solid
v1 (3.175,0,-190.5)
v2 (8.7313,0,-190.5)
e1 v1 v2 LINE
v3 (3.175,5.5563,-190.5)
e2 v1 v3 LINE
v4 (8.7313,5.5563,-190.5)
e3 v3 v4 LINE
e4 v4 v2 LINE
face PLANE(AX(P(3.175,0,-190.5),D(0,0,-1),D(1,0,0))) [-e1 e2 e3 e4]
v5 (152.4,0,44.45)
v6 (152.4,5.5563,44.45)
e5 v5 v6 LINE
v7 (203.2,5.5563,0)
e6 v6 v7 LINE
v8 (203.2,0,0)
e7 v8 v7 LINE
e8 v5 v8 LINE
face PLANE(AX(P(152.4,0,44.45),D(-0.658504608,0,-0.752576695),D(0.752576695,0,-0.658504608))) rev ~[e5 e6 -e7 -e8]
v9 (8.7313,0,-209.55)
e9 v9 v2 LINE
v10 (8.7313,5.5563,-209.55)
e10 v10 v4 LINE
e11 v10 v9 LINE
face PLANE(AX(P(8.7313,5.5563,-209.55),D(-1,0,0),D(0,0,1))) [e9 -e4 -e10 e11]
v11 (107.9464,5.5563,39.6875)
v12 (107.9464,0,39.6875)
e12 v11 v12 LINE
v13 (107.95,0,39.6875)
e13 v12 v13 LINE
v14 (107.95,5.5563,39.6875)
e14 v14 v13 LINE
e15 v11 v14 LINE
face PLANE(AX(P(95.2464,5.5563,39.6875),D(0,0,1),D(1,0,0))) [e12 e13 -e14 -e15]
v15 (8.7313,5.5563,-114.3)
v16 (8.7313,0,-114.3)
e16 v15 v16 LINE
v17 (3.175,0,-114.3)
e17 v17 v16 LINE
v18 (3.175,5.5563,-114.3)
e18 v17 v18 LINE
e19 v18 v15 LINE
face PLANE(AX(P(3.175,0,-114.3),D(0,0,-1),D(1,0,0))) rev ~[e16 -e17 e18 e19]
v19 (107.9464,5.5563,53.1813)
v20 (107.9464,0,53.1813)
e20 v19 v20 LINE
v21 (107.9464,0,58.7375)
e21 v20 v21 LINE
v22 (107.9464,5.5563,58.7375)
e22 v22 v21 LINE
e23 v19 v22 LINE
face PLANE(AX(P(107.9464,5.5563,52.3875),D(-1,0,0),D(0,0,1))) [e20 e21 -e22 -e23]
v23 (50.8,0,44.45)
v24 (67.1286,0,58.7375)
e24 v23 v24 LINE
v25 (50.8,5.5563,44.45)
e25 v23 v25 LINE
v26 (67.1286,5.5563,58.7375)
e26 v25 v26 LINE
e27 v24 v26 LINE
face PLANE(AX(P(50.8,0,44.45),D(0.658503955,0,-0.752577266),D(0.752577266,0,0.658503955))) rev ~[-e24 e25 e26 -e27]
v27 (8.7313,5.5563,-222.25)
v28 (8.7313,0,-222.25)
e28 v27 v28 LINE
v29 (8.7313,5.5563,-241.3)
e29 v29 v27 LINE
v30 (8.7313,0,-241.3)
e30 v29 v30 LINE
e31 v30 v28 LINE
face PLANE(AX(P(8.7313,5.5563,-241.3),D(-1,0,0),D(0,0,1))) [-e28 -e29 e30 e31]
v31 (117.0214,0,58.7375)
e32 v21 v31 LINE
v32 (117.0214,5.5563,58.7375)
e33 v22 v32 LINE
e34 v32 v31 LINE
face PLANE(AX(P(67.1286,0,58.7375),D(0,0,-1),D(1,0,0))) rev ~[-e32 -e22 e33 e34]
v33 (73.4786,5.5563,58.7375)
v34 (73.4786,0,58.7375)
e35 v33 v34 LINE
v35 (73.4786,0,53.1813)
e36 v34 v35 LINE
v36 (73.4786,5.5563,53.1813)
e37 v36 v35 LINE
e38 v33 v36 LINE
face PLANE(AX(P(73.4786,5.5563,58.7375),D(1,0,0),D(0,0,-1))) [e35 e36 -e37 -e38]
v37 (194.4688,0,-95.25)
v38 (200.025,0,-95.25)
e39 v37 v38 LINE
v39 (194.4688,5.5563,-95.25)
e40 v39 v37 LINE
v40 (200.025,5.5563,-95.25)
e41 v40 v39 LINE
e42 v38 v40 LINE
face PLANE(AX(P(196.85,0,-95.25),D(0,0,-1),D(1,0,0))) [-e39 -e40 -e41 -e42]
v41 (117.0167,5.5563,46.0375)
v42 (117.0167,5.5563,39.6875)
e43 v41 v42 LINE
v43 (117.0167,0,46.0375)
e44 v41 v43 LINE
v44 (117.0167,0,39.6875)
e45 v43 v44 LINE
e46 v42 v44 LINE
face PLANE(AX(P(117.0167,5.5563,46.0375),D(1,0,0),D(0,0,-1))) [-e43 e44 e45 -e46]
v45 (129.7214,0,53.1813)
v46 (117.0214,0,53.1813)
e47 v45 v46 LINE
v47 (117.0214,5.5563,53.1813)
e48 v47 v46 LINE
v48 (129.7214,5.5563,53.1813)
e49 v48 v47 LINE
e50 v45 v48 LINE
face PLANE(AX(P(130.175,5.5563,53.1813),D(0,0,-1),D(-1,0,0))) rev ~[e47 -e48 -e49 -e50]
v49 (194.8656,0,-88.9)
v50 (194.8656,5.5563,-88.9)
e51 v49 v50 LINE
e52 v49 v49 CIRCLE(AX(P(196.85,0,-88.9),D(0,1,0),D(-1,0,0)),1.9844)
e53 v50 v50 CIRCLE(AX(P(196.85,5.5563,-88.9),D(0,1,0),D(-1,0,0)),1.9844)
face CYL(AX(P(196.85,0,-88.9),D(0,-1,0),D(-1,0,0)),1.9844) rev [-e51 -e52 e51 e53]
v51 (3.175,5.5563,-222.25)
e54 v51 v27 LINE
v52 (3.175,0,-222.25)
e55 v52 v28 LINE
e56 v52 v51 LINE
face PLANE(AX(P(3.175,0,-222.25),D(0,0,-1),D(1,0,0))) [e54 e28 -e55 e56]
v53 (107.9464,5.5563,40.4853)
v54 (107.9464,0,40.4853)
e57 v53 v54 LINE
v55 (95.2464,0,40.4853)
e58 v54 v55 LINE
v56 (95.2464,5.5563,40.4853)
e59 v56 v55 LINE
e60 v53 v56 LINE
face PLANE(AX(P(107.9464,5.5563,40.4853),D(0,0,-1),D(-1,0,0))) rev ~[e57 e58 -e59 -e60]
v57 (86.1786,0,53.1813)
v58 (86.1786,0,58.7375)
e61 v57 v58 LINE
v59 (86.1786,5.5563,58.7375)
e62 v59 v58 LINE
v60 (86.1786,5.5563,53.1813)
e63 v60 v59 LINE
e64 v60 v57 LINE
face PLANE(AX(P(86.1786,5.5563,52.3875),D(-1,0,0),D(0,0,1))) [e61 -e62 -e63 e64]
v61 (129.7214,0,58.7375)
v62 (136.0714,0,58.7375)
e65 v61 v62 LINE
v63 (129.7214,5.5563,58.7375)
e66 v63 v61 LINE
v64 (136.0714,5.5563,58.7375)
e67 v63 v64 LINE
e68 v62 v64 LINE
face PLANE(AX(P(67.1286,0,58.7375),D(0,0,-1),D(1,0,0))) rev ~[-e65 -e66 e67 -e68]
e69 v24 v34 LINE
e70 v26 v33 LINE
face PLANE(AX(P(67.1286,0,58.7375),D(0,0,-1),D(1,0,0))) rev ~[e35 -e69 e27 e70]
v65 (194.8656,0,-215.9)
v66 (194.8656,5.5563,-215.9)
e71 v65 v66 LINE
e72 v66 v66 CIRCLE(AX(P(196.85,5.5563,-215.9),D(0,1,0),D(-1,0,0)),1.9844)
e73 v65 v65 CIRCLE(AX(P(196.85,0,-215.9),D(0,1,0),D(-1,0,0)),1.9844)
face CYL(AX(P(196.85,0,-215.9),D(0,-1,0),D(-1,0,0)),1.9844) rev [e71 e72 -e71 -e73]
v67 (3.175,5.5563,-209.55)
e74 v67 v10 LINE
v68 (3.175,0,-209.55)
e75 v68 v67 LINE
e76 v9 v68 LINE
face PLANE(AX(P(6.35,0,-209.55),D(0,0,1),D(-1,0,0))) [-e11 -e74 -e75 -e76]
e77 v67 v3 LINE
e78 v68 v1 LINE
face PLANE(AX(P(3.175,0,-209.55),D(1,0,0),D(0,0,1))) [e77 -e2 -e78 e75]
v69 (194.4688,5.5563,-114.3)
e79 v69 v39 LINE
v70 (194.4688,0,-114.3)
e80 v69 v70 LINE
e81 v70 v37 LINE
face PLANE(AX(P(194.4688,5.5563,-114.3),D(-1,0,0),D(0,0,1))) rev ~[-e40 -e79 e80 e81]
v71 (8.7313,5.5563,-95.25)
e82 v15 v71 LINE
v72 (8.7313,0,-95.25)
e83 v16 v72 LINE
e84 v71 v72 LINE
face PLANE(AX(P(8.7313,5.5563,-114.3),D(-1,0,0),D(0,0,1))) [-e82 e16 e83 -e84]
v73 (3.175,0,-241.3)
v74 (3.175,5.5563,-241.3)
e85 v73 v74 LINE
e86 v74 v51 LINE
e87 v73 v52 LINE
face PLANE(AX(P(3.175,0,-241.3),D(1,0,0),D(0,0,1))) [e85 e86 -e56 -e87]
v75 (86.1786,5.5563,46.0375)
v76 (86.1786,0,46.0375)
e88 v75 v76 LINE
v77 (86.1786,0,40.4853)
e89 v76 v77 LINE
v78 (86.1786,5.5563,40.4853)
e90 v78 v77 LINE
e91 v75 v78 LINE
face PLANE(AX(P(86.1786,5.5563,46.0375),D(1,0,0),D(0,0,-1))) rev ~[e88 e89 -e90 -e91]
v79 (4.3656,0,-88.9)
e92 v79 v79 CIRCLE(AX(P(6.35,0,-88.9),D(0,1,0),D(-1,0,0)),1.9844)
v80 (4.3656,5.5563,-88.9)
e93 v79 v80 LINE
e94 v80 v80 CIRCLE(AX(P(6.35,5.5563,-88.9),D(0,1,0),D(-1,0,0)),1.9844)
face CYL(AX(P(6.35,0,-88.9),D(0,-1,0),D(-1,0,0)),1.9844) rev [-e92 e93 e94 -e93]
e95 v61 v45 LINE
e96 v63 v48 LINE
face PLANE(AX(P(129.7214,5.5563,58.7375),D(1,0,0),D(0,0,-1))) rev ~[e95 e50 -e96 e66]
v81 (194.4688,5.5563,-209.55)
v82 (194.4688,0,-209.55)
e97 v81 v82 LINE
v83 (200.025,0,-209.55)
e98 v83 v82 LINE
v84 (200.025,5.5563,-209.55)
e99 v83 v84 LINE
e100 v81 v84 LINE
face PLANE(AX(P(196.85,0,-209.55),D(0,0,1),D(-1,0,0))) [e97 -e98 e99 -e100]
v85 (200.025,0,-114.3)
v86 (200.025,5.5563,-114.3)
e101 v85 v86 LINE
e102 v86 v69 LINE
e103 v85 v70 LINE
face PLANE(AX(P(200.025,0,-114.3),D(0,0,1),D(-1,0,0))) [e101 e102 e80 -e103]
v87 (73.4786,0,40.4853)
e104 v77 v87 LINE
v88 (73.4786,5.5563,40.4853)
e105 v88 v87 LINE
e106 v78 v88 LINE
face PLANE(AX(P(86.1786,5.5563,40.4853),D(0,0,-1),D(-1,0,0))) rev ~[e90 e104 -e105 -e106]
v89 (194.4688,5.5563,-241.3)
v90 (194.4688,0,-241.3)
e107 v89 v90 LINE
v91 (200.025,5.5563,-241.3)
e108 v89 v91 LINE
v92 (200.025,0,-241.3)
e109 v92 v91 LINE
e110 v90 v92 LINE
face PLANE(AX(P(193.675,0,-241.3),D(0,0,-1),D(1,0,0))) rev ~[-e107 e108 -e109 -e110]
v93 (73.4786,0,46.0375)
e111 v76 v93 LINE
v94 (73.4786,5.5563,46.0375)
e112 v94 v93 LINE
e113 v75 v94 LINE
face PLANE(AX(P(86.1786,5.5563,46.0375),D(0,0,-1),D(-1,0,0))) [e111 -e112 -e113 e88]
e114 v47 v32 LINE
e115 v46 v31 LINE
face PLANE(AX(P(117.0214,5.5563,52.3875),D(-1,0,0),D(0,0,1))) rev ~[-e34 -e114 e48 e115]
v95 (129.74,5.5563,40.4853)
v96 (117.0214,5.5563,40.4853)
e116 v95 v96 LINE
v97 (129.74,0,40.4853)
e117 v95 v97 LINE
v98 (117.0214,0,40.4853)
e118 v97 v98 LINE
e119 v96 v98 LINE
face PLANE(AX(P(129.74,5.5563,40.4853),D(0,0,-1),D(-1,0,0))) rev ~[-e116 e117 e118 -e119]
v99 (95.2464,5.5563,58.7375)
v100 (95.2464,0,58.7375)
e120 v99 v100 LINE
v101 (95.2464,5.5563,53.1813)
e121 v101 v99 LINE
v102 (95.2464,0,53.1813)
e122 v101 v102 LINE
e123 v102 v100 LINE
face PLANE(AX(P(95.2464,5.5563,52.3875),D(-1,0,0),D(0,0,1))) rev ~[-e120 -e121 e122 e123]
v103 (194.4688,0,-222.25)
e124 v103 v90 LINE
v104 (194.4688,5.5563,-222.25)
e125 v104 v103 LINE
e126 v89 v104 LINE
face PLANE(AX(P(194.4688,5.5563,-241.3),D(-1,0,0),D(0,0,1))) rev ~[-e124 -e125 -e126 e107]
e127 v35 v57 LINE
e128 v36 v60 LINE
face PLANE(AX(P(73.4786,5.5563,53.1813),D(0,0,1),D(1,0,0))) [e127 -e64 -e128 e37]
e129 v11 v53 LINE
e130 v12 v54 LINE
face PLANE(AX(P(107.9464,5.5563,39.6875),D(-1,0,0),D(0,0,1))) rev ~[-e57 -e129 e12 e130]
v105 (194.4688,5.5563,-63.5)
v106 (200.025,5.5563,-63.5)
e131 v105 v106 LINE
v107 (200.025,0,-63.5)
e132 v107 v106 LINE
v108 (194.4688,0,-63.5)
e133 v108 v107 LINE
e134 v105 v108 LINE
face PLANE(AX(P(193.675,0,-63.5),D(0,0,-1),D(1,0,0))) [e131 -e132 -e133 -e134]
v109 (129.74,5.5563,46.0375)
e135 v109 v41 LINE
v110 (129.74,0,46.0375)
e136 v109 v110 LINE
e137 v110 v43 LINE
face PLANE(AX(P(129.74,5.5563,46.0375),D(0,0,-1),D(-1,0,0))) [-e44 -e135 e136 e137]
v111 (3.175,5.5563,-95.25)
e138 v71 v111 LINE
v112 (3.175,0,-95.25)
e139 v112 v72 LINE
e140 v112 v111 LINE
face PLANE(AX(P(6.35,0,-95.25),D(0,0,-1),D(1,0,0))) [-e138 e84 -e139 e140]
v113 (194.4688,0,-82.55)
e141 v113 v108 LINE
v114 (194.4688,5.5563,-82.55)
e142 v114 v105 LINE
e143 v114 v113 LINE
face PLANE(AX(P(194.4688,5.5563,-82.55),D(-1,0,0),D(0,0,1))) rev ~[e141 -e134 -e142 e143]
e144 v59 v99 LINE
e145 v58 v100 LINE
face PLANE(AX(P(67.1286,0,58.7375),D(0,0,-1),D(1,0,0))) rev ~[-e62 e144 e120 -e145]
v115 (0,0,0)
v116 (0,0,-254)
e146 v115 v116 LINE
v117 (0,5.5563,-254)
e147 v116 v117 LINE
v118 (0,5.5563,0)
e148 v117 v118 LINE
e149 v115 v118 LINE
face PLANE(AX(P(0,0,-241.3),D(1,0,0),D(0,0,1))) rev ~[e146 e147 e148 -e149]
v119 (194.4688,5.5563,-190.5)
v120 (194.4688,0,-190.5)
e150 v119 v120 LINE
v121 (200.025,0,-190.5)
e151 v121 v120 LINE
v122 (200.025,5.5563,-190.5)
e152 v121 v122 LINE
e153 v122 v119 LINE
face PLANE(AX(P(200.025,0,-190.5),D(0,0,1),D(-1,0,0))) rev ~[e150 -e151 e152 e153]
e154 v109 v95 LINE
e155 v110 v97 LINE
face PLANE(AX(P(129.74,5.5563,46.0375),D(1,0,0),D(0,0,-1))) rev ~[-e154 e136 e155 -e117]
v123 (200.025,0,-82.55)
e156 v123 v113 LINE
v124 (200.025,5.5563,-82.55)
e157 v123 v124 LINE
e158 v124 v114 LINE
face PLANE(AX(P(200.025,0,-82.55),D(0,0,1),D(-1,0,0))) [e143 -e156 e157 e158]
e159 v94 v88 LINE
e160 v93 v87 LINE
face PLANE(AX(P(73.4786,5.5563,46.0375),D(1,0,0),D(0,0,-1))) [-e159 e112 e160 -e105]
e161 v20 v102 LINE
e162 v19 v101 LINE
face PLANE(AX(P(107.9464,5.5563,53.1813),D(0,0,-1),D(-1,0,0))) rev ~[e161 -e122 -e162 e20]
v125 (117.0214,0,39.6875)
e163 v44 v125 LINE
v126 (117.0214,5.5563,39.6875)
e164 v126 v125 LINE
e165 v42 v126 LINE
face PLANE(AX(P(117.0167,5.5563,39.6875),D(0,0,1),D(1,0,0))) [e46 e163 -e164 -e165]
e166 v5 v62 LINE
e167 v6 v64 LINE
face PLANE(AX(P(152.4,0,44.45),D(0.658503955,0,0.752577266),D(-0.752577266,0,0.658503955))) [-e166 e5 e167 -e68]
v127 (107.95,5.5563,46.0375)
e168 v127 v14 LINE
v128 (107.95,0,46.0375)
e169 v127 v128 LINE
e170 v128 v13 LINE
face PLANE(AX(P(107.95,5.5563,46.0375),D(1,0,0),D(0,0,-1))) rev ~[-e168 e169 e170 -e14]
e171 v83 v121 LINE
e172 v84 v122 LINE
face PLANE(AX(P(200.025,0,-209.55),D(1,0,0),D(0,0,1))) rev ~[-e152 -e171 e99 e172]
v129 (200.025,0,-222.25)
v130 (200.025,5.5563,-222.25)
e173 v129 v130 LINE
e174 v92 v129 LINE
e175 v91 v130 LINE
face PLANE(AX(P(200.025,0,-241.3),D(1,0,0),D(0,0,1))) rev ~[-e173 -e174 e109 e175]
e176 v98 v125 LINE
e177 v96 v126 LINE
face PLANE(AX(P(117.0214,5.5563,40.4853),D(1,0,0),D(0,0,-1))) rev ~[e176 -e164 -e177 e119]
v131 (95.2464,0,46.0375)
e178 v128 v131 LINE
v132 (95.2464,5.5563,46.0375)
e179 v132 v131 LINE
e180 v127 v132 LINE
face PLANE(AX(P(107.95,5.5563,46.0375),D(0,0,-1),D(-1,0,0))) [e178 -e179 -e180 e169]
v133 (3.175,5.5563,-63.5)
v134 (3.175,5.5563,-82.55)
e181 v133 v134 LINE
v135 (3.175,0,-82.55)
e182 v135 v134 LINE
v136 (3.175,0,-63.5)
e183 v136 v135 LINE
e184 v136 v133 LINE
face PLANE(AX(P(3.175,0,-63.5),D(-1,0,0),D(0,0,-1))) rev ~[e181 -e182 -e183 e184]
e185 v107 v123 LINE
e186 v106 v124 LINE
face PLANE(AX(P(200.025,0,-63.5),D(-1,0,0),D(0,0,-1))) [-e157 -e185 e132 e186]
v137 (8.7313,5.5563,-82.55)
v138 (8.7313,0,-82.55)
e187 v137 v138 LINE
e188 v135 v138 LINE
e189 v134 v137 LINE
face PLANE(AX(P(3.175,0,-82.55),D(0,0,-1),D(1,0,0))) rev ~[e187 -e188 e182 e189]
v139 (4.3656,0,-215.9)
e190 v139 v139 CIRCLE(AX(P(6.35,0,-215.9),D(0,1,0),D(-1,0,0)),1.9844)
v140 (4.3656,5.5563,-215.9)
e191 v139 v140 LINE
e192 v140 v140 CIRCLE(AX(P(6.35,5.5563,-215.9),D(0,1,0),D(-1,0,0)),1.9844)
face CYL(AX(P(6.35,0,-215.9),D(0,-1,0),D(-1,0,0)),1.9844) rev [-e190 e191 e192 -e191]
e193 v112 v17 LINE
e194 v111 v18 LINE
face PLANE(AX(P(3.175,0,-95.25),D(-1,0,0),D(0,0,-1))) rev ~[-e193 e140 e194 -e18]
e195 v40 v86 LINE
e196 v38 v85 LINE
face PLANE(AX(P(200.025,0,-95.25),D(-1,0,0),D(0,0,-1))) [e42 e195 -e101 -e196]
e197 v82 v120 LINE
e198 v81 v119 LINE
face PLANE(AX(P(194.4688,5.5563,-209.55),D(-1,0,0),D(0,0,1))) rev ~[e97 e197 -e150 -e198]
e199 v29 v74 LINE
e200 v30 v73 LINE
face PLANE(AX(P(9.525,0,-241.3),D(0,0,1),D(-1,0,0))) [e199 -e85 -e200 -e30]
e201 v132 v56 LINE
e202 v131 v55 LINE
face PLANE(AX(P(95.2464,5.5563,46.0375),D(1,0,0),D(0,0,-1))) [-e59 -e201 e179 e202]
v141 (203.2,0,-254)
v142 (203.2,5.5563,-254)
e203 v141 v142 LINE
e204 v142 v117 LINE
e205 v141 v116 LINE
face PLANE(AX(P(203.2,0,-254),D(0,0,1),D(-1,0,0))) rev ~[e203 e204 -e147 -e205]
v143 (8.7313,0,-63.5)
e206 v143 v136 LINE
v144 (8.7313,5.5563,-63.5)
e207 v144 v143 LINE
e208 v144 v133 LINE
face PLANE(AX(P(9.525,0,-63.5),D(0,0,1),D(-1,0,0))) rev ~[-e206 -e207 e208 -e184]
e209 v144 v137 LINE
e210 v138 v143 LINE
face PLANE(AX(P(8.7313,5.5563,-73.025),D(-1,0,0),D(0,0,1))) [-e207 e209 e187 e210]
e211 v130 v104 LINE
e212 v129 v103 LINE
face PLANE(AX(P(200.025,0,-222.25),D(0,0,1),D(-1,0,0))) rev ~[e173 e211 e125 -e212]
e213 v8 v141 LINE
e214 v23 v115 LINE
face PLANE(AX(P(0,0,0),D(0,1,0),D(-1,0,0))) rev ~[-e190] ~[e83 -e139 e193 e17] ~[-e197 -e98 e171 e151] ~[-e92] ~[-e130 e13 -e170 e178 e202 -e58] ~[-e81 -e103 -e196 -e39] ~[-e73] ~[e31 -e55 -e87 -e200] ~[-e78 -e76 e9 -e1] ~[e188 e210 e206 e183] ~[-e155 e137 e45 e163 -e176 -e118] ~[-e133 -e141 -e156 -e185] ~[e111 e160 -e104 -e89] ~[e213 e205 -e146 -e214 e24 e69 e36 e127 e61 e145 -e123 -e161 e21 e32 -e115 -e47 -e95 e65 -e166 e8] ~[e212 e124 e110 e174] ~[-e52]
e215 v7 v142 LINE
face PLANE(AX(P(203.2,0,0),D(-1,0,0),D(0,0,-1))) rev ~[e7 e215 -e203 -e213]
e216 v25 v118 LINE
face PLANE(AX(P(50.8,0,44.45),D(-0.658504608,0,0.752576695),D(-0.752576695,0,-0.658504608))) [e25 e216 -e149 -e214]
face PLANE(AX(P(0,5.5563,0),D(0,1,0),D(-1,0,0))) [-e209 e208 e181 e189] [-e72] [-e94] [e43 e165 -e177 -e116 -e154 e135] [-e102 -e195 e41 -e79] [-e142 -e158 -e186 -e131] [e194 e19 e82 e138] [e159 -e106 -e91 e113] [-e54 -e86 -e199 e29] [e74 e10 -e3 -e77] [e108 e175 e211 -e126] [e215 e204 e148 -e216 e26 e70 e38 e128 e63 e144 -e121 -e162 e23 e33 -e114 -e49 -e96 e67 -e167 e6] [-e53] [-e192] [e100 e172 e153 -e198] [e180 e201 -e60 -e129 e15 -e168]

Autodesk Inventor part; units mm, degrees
ref_plane "YZ Plane" through (0, 0, 0) normal (1, 0, 0) x (0, 1, 0)
ref_plane "XZ Plane" through (0, 0, 0) normal (0, 1, 0) x (-1, 0, 0)
ref_plane "XY Plane" through (0, 0, 0) normal (0, 0, 1) x (1, 0, 0)
sketch "Sketch1" plane through (0, 0, 0) normal (0, 1, 0) x (-1, 0, 0)
  point P0 (0, 0)
sketch "Sketch4" plane through (0, 0, 0) normal (0, 1, 0) x (-1, 0, 0)
  line L0 (-203.2, 0) -> (-203.2, -254)
  line L1 (-203.2, -254) -> (0, -254)
  line L2 (0, -254) -> (0, 0)
  line L3 (-101.6, 44.45) -> (-50.8, 44.45)
  line L4 (-50.8, 44.45) -> (0, 0)
  line L5 (-101.6, 44.45) -> (-152.4, 44.45)
  line L6 (-152.4, 44.45) -> (-203.2, 0)
  line L7 (-152.4, 44.45) -> (-136.0714, 58.7375)
  line L8 (-50.8, 44.45) -> (-67.1286, 58.7375)
  line L9 (-67.1286, 58.7375) -> (-136.0714, 58.7375)
  line L10 (0, -254) -> (0, -241.3)
  line L11 (-3.175, -241.3) -> (-3.175, -222.25)
  line L12 (-3.175, -222.25) -> (-9.525, -222.25)
  line L13 (-9.525, -222.25) -> (-9.525, -241.3)
  line L14 (-9.525, -241.3) -> (-3.175, -241.3)
  circle A0 centre (-6.35, -215.9) radius 4.7625
  circle A1 centre (-6.35, -215.9) radius 1.9844
  line L15 (-6.35, -209.55) -> (-9.525, -209.55)
  line L16 (-6.35, -209.55) -> (-3.175, -209.55)
  line L17 (-3.175, -209.55) -> (-3.175, -190.5)
  line L18 (-3.175, -190.5) -> (-9.525, -190.5)
  line L19 (-9.525, -190.5) -> (-9.525, -209.55)
  line L20 (-200.025, -241.3) -> (-200.025, -222.25)
  line L21 (-200.025, -222.25) -> (-193.675, -222.25)
  line L22 (-193.675, -222.25) -> (-193.675, -241.3)
  line L23 (-193.675, -241.3) -> (-200.025, -241.3)
  circle A2 centre (-196.85, -215.9) radius 4.7625
  circle A3 centre (-196.85, -215.9) radius 1.9844
  line L24 (-196.85, -209.55) -> (-193.675, -209.55)
  line L25 (-196.85, -209.55) -> (-200.025, -209.55)
  line L26 (-200.025, -209.55) -> (-200.025, -190.5)
  line L27 (-200.025, -190.5) -> (-193.675, -190.5)
  line L28 (-193.675, -190.5) -> (-193.675, -209.55)
  line L29 (-3.175, -63.5) -> (-3.175, -82.55)
  line L30 (-3.175, -82.55) -> (-9.525, -82.55)
  line L31 (-9.525, -82.55) -> (-9.525, -63.5)
  line L32 (-9.525, -63.5) -> (-3.175, -63.5)
  circle A4 centre (-6.35, -88.9) radius 4.7625
  circle A5 centre (-6.35, -88.9) radius 1.9844
  line L33 (-6.35, -95.25) -> (-9.525, -95.25)
  line L34 (-6.35, -95.25) -> (-3.175, -95.25)
  line L35 (-3.175, -95.25) -> (-3.175, -114.3)
  line L36 (-3.175, -114.3) -> (-9.525, -114.3)
  line L37 (-9.525, -114.3) -> (-9.525, -95.25)
  line L38 (-193.675, -63.5) -> (-200.025, -63.5)
  line L39 (-200.025, -63.5) -> (-200.025, -82.55)
  line L40 (-193.675, -82.55) -> (-193.675, -63.5)
  line L41 (-200.025, -82.55) -> (-193.675, -82.55)
  circle A6 centre (-196.85, -88.9) radius 4.7625
  line L42 (-196.85, -95.25) -> (-200.025, -95.25)
  line L43 (-196.85, -95.25) -> (-193.675, -95.25)
  line L44 (-200.025, -95.25) -> (-200.025, -114.3)
  line L45 (-200.025, -114.3) -> (-193.675, -114.3)
  line L46 (-193.675, -114.3) -> (-193.675, -95.25)
  circle A7 centre (-196.85, -88.9) radius 1.9844
  dimension "d18" = 203.2
  dimension "d19" = 254
  dimension "d29" = 19.05
  dimension "d30" = 6.35
  dimension "d32" = 9.525
  dimension "d33" = 3.9688
  dimension "d35" = 3.175
  dimension "d36" = 19.05
extrude "Extrusion2" add sketch "Sketch4" along normal blind 5.5563 contours L6 L5 L3 L4 L2 L1 L0 | L7 L9 L8 L3 L5 | A0 | A2 | A4 | A6
sketch "Sketch5" plane through (0, 5.5563, 0) normal (0, 1, 0) x (1, 0, 0)
  line L0 (67.1286, -58.7375) -> (136.0714, -58.7375) projected
  line L1 (136.0714, -58.7375) -> (129.7214, -58.7375)
  line L2 (129.7214, -58.7375) -> (129.7214, -52.3875)
  line L3 (129.7214, -52.3875) -> (117.0214, -52.3875)
  line L4 (117.0214, -52.3875) -> (117.0214, -58.7375)
  line L5 (117.0214, -58.7375) -> (104.3214, -58.7375)
  line L6 (0, 0) -> (67.1286, -58.7375) projected
  line L7 (67.1286, -58.7375) -> (73.4786, -58.7375)
  line L8 (73.4786, -58.7375) -> (73.4786, -52.3875)
  line L9 (73.4786, -52.3875) -> (86.1786, -52.3875)
  line L10 (86.1786, -52.3875) -> (86.1786, -58.7375)
  line L11 (86.1786, -58.7375) -> (101.5964, -58.7375)
  line L12 (101.5964, -52.3875) -> (95.2464, -52.3875)
  line L13 (101.5964, -52.3875) -> (107.9464, -52.3875)
  line L14 (107.9464, -52.3875) -> (107.9464, -58.7375)
  line L15 (95.2464, -52.3875) -> (95.2464, -58.7375)
  line L16 (73.4786, -58.7375) -> (86.1786, -58.7375)
extrude "Extrusion3" cut sketch "Sketch5" against normal blind 25.4
sketch "Sketch6" plane through (0, 5.5563, 0) normal (0, 1, 0) x (1, 0, 0)
  line L0 (73.4786, -52.3875) -> (86.1786, -52.3875) projected
  line L1 (73.4786, -46.0375) -> (73.4786, -39.6875)
  line L2 (73.4786, -39.6875) -> (73.4786, -46.0375)
  line L3 (129.74, -46.0375) -> (129.74, -39.6875)
  line L4 (129.74, -39.6875) -> (129.74, -46.0375)
  line L5 (86.1786, -46.0375) -> (86.1786, -39.6875)
  line L6 (95.2464, -46.0375) -> (95.2464, -39.6875)
  line L7 (117.0167, -46.0375) -> (117.0167, -39.6875)
  line L8 (107.95, -46.0375) -> (107.95, -39.6875)
  line L9 (73.4786, -39.6875) -> (86.1786, -39.6875)
  line L10 (95.2464, -39.6875) -> (107.95, -39.6875)
  line L11 (117.0167, -39.6875) -> (129.74, -39.6875)
  line L12 (129.74, -46.0375) -> (117.0167, -46.0375)
  line L13 (107.95, -46.0375) -> (95.2464, -46.0375)
  line L14 (86.1786, -46.0375) -> (73.4786, -46.0375)
  point P0 (0, 0)
  point P1 (95.2464, -52.3875)
extrude "Extrusion4" cut sketch "Sketch6" against normal blind 25.4
sketch "Sketch7" plane through (0, 5.5563, 0) normal (0, 1, 0) x (1, 0, 0)
  line L0 (3.175, 63.5) -> (3.175, 82.55) projected
  line L1 (3.175, 73.025) -> (8.7313, 73.025)
  line L2 (9.525, 82.55) -> (3.175, 82.55) projected
  line L3 (3.175, 63.5) -> (9.525, 63.5) projected
  line L4 (9.525, 82.55) -> (8.7313, 82.55)
  line L5 (8.7313, 82.55) -> (8.7313, 63.5)
  line L6 (8.7313, 63.5) -> (9.525, 63.5)
  line L7 (9.525, 63.5) -> (9.525, 82.55)
  line L8 (9.525, 114.3) -> (8.7313, 114.3)
  line L9 (8.7313, 114.3) -> (8.7313, 95.25)
  line L10 (8.7313, 95.25) -> (9.525, 95.25)
  line L11 (9.525, 95.25) -> (9.525, 114.3)
  line L12 (3.175, 209.55) -> (9.525, 209.55) projected
  line L13 (3.175, 190.5) -> (9.525, 190.5) projected
  line L14 (9.525, 209.55) -> (8.7313, 209.55)
  line L15 (8.7313, 209.55) -> (8.7313, 190.5)
  line L16 (8.7313, 190.5) -> (9.525, 190.5)
  line L17 (9.525, 190.5) -> (9.525, 209.55)
  line L18 (9.525, 241.3) -> (9.525, 222.25) projected
  line L19 (9.525, 241.3) -> (9.1281, 241.3)
  line L20 (9.1281, 222.25) -> (9.525, 222.25)
  line L21 (9.525, 222.25) -> (9.525, 241.3)
  line L22 (3.175, 222.25) -> (3.175, 241.3) projected
  line L23 (9.525, 241.3) -> (8.7313, 241.3)
  line L24 (8.7313, 241.3) -> (8.7313, 222.25)
  line L25 (8.7313, 222.25) -> (9.525, 222.25)
  line L26 (9.525, 222.25) -> (9.525, 241.3)
  line L27 (200.025, 241.3) -> (200.025, 222.25) projected
  line L28 (200.025, 231.775) -> (194.4688, 231.775)
  line L29 (193.675, 241.3) -> (193.675, 222.25) projected
  line L30 (193.675, 241.3) -> (194.4688, 241.3)
  line L31 (194.4688, 241.3) -> (194.4688, 222.25)
  line L32 (194.4688, 222.25) -> (193.675, 222.25)
  line L33 (193.675, 222.25) -> (193.675, 241.3)
  line L34 (193.675, 209.55) -> (193.675, 190.5) projected
  line L35 (200.025, 190.5) -> (193.675, 190.5) projected
  line L36 (193.675, 209.55) -> (194.4688, 209.55)
  line L37 (194.4688, 209.55) -> (194.4688, 190.5)
  line L38 (194.4688, 190.5) -> (193.675, 190.5)
  line L39 (193.675, 190.5) -> (193.675, 209.55)
  line L40 (193.675, 114.3) -> (194.4688, 114.3)
  line L41 (194.4688, 114.3) -> (194.4688, 95.25)
  line L42 (194.4688, 95.25) -> (193.675, 95.25)
  line L43 (193.675, 95.25) -> (193.675, 114.3)
  line L44 (193.675, 82.55) -> (193.675, 63.5) projected
  line L45 (193.675, 82.55) -> (194.4688, 82.55)
  line L46 (194.4688, 82.55) -> (194.4688, 63.5)
  line L47 (194.4688, 63.5) -> (193.675, 63.5)
  line L48 (193.675, 63.5) -> (193.675, 82.55)
  line L49 (86.1786, -52.3875) -> (86.1786, -58.7375) projected
  line L50 (73.4786, -52.3875) -> (73.4786, -58.7375) projected
  line L51 (86.1786, -52.3875) -> (73.4786, -52.3875)
  line L52 (73.4786, -52.3875) -> (73.4786, -53.1813)
  line L53 (73.4786, -53.1813) -> (86.1786, -53.1813)
  line L54 (86.1786, -53.1813) -> (86.1786, -52.3875)
  line L55 (95.2464, -58.7375) -> (95.2464, -52.3875) projected
  line L56 (107.9464, -52.3875) -> (107.9464, -58.7375) projected
  line L57 (95.2464, -52.3875) -> (107.9464, -52.3875)
  line L58 (107.9464, -52.3875) -> (107.9464, -53.1813)
  line L59 (107.9464, -53.1813) -> (95.2464, -53.1813)
  line L60 (95.2464, -53.1813) -> (95.2464, -52.3875)
  line L61 (117.0214, -52.3875) -> (130.175, -52.3875)
  line L62 (130.175, -52.3875) -> (130.175, -53.1813)
  line L63 (130.175, -53.1813) -> (117.0214, -53.1813)
  line L64 (117.0214, -53.1813) -> (117.0214, -52.3875)
  line L65 (86.1786, -46.0375) -> (86.1786, -39.6875) projected
  line L66 (73.4786, -39.6875) -> (86.1786, -39.6875)
  line L67 (86.1786, -39.6875) -> (86.1786, -40.4853)
  line L68 (86.1786, -40.4853) -> (73.4786, -40.4853)
  line L69 (73.4786, -40.4853) -> (73.4786, -39.6875)
  line L70 (95.2464, -39.6875) -> (107.9464, -39.6875)
  line L71 (107.9464, -39.6875) -> (107.9464, -40.4853)
  line L72 (107.9464, -40.4853) -> (95.2464, -40.4853)
  line L73 (95.2464, -40.4853) -> (95.2464, -39.6875)
  line L74 (117.0214, -39.6875) -> (129.74, -39.6875)
  line L75 (129.74, -39.6875) -> (129.74, -40.4853)
  line L76 (129.74, -40.4853) -> (117.0214, -40.4853)
  line L77 (117.0214, -40.4853) -> (117.0214, -39.6875)
  point P0 (0, 0)
  dimension "d65" = 5.5563
  dimension "d67" = 5.5563
extrude "Extrusion5" add sketch "Sketch7" against normal blind 5.5563 contours L5 L2 L7 L3 | L11 L10 L9 L8 | L12 L17 L13 L15 | L18 L20 L25 L24 L23 L19 | L30 L31 L32 L29 | L36 L37 L35 L34 | L40 L41 L42 L43 | L45 L46 L47 L44 | L49 L53 L50 L51 | L55 L57 L56 L59 | L61 L62 L63 L64 | L68 L69 L66 L65 | L70 L71 L72 L73 | L74 L75 L76 L77
properties part number "base"
